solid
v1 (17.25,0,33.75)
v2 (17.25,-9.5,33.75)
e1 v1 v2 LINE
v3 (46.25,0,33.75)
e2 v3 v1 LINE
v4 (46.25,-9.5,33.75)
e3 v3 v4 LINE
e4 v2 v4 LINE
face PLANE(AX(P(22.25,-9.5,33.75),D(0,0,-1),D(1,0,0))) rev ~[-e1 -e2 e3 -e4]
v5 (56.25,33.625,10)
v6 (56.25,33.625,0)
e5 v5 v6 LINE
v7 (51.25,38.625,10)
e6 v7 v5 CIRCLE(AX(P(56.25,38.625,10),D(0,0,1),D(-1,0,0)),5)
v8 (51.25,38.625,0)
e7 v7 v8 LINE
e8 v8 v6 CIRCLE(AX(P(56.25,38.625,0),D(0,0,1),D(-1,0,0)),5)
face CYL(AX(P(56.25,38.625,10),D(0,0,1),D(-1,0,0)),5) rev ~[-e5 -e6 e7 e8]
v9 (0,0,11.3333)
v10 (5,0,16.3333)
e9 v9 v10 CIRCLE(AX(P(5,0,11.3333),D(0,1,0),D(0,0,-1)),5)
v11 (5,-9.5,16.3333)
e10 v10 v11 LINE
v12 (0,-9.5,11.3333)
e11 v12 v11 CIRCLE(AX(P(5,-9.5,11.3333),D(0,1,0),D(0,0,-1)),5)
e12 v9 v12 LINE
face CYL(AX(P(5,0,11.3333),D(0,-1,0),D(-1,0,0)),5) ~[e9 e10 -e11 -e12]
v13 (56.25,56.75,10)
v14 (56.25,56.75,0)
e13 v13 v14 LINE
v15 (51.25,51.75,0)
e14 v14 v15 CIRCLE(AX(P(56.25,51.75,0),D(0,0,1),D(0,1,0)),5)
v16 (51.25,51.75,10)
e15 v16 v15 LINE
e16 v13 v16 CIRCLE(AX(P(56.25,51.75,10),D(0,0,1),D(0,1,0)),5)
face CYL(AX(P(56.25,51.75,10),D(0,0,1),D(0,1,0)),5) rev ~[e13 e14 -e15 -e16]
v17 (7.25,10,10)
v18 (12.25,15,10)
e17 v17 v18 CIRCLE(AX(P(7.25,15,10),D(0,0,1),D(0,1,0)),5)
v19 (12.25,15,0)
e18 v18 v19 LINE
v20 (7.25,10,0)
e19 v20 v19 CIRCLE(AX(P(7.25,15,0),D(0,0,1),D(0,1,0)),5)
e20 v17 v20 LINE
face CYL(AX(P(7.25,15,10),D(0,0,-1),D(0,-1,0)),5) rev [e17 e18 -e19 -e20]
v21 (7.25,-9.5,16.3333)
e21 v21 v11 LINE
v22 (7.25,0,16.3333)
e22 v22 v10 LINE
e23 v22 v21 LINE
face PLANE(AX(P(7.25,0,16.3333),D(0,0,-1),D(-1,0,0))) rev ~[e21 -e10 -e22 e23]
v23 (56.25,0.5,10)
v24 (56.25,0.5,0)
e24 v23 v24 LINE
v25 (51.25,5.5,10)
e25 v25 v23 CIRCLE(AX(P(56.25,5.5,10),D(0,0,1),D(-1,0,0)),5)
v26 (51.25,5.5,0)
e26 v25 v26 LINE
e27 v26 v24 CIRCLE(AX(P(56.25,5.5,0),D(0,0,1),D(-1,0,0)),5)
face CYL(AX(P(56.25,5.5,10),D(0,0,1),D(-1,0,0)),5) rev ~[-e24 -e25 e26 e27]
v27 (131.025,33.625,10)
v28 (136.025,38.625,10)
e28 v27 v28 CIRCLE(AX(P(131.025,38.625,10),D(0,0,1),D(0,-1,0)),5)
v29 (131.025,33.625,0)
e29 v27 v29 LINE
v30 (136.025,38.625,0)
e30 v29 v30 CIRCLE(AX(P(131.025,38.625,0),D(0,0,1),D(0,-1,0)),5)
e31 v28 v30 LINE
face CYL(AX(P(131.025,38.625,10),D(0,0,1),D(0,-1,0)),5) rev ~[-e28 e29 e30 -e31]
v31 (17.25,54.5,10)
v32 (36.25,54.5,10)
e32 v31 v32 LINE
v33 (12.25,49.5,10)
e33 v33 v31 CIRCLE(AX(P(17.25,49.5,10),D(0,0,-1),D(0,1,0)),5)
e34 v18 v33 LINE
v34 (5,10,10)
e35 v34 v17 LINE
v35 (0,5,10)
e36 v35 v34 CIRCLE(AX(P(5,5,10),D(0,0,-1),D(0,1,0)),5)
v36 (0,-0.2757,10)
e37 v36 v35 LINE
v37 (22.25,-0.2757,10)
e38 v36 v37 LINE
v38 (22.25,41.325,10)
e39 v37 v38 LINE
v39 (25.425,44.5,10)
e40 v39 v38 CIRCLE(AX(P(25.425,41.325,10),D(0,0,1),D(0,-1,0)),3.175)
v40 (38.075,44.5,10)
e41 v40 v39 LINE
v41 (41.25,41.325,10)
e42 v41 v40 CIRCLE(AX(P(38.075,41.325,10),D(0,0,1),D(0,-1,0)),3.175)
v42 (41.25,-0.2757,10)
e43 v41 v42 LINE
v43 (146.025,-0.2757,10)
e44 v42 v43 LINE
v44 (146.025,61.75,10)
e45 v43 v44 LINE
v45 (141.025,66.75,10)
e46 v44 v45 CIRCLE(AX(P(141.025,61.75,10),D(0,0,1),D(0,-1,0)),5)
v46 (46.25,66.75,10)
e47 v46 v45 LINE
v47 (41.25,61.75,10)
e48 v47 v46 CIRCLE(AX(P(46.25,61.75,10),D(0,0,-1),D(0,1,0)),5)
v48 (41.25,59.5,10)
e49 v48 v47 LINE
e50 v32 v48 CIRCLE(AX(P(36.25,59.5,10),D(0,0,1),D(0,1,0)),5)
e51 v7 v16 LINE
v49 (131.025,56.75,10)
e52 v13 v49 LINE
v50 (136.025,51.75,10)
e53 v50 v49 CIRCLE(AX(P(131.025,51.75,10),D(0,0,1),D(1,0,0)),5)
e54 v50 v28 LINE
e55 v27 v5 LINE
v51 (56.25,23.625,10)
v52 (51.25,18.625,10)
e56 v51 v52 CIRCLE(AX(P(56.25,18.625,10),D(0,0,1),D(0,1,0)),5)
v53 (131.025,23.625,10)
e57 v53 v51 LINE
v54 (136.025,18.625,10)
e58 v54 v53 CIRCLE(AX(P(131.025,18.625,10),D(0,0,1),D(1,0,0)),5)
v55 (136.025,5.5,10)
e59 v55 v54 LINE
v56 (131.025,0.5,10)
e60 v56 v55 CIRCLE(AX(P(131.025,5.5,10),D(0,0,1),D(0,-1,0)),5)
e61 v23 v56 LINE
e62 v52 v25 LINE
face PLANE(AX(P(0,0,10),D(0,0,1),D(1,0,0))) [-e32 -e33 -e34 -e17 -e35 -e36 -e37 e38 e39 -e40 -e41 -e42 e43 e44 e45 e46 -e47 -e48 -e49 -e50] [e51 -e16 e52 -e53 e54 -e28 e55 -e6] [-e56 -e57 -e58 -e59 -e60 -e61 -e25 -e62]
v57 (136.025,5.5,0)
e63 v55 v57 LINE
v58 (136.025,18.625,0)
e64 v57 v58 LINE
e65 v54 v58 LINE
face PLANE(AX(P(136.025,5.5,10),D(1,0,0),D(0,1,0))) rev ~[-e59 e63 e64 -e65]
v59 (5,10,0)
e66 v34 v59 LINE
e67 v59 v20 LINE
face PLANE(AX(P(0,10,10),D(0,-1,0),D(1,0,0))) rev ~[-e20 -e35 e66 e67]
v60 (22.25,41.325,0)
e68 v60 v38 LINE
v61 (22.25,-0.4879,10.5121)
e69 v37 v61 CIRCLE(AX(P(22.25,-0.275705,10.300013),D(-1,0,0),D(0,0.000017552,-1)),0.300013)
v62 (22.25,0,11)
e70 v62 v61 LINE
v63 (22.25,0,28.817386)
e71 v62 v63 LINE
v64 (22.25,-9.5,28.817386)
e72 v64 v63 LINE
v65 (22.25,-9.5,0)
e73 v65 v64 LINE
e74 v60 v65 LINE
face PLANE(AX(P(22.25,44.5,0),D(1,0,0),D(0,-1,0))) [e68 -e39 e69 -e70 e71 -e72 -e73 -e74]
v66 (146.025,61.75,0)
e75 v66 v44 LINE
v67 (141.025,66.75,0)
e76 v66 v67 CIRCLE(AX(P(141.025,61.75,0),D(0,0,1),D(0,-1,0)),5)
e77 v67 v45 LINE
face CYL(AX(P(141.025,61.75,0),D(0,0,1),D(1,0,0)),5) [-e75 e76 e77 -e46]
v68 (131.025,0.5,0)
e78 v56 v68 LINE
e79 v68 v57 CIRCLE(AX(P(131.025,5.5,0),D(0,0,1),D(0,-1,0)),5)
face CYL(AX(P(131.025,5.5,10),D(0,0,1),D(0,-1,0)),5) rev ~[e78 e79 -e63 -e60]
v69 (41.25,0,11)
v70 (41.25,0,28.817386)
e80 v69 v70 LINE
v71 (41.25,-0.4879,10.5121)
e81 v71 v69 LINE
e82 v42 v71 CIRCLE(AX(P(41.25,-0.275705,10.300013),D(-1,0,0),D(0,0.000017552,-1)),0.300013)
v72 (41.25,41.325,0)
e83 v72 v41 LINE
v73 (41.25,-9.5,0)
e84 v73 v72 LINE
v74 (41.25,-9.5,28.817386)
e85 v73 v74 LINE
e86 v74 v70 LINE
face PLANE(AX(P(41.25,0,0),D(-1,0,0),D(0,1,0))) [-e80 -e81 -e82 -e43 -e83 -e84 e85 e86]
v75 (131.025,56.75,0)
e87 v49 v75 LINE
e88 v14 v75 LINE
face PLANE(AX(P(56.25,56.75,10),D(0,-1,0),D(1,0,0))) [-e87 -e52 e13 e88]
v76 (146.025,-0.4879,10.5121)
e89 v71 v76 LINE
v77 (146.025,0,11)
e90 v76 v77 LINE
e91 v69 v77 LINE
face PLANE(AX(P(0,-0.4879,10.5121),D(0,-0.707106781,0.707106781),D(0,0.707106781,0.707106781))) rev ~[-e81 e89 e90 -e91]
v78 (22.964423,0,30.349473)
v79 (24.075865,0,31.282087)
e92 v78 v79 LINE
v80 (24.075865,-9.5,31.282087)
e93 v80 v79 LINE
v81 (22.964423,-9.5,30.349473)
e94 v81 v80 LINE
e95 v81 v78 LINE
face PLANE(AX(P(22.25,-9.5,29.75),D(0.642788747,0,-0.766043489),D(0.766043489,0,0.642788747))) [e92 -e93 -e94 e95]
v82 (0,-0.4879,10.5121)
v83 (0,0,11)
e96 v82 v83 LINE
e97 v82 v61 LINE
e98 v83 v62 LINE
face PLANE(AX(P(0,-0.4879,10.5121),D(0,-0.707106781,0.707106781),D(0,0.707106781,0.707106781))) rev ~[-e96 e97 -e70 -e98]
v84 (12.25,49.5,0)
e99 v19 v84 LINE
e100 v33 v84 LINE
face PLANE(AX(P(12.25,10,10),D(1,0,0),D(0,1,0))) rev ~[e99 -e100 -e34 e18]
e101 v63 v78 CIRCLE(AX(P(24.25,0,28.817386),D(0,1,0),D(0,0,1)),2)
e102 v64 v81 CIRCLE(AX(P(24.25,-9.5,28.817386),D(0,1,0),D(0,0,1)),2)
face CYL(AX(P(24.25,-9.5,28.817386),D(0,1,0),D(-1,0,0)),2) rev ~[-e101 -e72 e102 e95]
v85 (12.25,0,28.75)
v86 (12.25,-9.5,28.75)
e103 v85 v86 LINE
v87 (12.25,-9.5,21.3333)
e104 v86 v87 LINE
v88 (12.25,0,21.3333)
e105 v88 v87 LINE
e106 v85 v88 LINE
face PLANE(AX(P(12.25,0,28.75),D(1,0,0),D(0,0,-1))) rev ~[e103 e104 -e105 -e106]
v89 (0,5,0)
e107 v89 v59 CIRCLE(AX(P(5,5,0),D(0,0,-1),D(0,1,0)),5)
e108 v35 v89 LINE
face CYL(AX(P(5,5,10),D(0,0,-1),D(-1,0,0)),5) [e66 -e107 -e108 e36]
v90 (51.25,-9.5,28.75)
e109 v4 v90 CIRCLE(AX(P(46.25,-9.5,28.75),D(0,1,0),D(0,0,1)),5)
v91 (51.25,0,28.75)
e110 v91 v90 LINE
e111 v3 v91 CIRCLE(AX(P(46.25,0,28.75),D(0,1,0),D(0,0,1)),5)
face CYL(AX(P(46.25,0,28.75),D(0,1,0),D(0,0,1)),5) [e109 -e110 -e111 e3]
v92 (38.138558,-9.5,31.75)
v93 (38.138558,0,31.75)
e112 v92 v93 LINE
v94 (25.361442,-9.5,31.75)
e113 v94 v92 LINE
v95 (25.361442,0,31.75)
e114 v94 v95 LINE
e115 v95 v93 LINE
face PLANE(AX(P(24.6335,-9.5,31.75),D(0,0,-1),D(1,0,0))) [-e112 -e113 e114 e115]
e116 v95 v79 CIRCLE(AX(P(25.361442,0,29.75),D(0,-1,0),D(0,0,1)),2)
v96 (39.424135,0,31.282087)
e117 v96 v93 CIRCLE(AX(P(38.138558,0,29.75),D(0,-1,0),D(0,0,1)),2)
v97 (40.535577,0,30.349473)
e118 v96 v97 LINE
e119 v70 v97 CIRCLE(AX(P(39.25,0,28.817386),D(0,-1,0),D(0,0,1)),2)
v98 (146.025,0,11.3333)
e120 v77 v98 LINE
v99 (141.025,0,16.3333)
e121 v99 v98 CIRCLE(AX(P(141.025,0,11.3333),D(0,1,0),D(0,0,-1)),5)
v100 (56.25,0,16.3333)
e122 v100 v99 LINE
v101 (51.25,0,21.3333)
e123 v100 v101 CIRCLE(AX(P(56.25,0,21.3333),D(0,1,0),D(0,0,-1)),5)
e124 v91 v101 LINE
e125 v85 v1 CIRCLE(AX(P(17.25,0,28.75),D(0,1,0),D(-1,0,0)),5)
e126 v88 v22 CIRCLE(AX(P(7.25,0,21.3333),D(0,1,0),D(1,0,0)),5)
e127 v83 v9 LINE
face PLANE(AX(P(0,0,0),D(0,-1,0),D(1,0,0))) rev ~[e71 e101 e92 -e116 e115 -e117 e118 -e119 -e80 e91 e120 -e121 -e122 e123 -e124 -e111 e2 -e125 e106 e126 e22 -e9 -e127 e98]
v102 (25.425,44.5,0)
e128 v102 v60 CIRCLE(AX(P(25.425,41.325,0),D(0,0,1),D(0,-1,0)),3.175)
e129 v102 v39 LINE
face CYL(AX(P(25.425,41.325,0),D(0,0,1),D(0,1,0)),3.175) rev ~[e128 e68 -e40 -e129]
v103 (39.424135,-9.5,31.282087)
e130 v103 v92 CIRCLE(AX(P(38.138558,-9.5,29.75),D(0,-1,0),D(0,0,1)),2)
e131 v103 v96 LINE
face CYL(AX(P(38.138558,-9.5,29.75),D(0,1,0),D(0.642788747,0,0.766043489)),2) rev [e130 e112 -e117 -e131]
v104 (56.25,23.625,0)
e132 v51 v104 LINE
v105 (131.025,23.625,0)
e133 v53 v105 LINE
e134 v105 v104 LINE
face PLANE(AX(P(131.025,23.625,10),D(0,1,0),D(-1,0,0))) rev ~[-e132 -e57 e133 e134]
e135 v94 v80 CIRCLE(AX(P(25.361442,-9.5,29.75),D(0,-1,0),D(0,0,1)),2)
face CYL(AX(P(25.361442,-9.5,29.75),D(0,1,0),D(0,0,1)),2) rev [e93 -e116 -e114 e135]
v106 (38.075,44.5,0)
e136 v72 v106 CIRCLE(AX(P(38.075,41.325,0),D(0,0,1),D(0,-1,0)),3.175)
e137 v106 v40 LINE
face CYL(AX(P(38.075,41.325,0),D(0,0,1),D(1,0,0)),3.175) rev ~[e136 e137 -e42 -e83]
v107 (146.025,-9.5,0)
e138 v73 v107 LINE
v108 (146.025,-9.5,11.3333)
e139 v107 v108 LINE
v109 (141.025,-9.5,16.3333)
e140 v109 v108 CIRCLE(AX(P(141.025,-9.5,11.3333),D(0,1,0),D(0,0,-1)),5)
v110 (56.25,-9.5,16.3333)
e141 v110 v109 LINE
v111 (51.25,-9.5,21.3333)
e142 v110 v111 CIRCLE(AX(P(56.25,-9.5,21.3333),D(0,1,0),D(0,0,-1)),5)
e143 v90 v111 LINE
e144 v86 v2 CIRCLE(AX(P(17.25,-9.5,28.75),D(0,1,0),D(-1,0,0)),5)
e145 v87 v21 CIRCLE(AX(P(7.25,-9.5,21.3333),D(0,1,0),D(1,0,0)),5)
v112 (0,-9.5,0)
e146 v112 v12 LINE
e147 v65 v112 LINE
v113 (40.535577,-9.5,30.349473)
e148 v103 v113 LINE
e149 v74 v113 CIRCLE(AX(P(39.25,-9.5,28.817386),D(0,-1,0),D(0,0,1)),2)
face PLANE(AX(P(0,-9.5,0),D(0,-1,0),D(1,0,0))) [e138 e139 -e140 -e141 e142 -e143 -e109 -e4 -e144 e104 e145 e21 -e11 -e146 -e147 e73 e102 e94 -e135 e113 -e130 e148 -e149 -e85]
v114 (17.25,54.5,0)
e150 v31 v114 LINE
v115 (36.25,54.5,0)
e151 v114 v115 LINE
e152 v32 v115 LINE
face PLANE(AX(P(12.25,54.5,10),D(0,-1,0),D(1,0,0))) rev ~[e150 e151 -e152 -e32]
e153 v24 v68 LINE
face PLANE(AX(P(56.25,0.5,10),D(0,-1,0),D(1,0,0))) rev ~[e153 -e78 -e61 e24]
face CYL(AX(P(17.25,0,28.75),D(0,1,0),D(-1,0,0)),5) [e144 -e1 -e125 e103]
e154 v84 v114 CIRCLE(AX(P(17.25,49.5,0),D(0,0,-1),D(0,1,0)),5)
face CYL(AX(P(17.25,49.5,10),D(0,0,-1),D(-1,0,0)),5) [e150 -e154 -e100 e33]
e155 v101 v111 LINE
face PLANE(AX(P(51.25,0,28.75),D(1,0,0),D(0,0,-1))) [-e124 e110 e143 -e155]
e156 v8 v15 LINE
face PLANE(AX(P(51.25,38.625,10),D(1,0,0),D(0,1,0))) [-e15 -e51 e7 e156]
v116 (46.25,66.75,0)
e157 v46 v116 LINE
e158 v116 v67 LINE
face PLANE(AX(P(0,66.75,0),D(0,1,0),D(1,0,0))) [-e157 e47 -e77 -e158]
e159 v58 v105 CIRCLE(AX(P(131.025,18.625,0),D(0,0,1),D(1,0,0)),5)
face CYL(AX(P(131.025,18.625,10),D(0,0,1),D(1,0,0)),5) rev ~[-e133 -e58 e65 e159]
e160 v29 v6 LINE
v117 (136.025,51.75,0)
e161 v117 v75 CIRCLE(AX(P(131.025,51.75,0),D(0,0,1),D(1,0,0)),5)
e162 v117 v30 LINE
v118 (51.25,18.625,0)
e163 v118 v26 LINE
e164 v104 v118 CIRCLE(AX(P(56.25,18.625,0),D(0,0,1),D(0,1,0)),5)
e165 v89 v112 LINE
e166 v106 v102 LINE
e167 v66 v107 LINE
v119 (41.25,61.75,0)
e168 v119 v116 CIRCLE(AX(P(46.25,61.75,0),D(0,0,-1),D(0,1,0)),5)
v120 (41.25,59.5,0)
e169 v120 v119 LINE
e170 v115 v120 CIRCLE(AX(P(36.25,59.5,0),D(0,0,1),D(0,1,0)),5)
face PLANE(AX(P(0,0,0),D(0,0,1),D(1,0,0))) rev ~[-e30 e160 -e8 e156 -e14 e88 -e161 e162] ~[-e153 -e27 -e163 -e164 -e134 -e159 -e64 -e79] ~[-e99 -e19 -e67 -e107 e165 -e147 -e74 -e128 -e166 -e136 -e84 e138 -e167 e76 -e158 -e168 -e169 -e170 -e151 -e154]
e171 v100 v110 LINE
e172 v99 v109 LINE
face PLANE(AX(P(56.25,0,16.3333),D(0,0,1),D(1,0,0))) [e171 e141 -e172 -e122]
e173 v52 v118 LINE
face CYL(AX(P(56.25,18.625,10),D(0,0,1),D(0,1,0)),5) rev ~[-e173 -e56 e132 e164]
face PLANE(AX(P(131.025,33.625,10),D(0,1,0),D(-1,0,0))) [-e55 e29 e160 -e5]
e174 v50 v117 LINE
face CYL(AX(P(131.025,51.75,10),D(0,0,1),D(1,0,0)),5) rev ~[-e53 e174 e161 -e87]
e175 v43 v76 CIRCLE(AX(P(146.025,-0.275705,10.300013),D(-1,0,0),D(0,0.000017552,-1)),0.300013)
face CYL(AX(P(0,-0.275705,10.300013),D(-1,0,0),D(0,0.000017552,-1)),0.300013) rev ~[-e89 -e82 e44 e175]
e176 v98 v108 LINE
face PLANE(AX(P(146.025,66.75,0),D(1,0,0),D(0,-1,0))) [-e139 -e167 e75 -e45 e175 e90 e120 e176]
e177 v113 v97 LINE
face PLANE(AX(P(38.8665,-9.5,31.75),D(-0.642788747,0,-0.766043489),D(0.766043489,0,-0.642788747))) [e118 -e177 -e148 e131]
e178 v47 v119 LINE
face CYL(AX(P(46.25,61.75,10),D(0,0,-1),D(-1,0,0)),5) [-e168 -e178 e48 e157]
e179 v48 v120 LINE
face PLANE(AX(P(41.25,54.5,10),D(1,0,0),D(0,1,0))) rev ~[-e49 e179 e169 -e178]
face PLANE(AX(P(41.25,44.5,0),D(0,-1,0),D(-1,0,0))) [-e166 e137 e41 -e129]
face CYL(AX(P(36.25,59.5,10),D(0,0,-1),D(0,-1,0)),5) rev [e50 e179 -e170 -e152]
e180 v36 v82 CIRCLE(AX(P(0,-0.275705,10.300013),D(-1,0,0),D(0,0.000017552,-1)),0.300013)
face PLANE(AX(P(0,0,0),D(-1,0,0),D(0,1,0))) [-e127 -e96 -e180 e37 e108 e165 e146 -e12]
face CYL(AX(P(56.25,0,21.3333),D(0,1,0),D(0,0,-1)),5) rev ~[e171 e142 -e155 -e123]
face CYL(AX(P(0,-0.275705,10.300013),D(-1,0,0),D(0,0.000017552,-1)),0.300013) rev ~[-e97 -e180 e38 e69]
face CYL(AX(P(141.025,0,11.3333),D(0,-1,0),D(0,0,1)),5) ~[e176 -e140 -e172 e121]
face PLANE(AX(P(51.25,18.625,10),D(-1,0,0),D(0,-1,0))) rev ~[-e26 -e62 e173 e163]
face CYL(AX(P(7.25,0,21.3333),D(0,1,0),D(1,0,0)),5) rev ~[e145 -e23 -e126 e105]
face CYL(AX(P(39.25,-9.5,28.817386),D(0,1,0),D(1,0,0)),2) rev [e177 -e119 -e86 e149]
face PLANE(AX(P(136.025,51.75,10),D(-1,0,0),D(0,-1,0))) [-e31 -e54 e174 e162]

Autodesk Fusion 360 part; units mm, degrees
sketch "Sketch2" plane through (0, 0, 0) normal (0, 0, 1) x (1, 0, 0) in component "jig"
  line L0 (0, 0) -> (0, 66.75)
  line L1 (0, 66.75) -> (146.025, 66.75)
  line L2 (146.025, 66.75) -> (146.025, 0)
  line L3 (146.025, 0) -> (0, 0)
  line L4 (22.25, 0) -> (41.25, 0)
  line L5 (41.25, 0) -> (41.25, 44.5)
  line L6 (41.25, 44.5) -> (22.25, 44.5)
  line L7 (22.25, 44.5) -> (22.25, 0)
  line L8 (0, 0) -> (22.25, 0)
  line L9 (22.25, 0) -> (22.25, -9.5)
  line L10 (22.25, -9.5) -> (0, -9.5)
  line L11 (0, -9.5) -> (0, 0)
  line L12 (146.025, 0) -> (41.25, 0)
  line L13 (41.25, 0) -> (41.25, -9.5)
  line L14 (41.25, -9.5) -> (146.025, -9.5)
  line L15 (146.025, -9.5) -> (146.025, 0)
  line L16 (22.25, 44.5) -> (0, 44.5) construction
  line L17 (41.25, 44.5) -> (146.025, 44.5) construction
  dimension "d27" = 104.775
  dimension "d29" = 9.5
  dimension "d58" = 19
  dimension "d59" = 22.25
  dimension "d60" = 44.5
  dimension "d64" = 22.25
extrude "Extrude1" add sketch "Sketch2" along normal blind 10 contours L0 L1 L2 L3 L5 L6 L7 L8 L12 in component "jig"
extrude "Extrude2" add sketch "Sketch2" along normal blind 33.75 contours L3 L8 L9 L10 L11 | L3 L12 L13 L14 L15 in component "jig"
sketch "Sketch3" plane through (0, 0, 0) normal (-1, 0, 0) x (0, -1, 0) in component "jig"
  line L0 (-66.75, 0) -> (9.5, 0)
  line L1 (9.5, 0) -> (9.5, 33.75)
  line L2 (9.5, 33.75) -> (0, 33.75)
  line L3 (-160, 13) -> (-160.4879, 12.5121)
  line L4 (-160.2757, 12) -> (-160, 12)
  line L5 (-160, 13) -> (-160, 12)
  arc A0 (-160.4879, 12.5121) -> (-160.2757, 12) centre (-160.2757, 12.3) ccw
  line L6 (0, 10) -> (0.2757, 10)
  line L7 (0.4879, 10.5121) -> (0, 11)
  line L8 (0, 10) -> (0, 11)
  arc A1 (0.2757, 10) -> (0.4879, 10.5121) centre (0.2757, 10.3) ccw
  line L9 (-66.75, 10) -> (-66.75, 0)
  line L10 (0, 33.75) -> (0, 10)
  line L11 (0, 10) -> (-66.75, 10)
  dimension "d34" = 1
  dimension "d35" = 0.3
  dimension "d36" = 45
  dimension "d37" = 1
  dimension "d38" = 45
  dimension "d39" = 0.3
extrude "Extrude3" cut sketch "Sketch3" against normal up to surface (146.025 mm away) contours L6 L7 L8 A1 L10 | L3 L4 L5 A0 in component "jig"
fillet "Fillet2" radius 3.175 2 edges at (22.25, 44.5, 5) (41.25, 44.5, 5) in component "jig"
sketch "Sketch2 (2)" plane through (0, -9.5, 0) normal (0, -1, 0) x (1, 0, 0) in component "jig"
  line L0 (0, 0) -> (22.25, 0)
  line L1 (22.25, 0) -> (22.25, 33.75)
  line L2 (22.25, 33.75) -> (0, 33.75)
  line L3 (0, 33.75) -> (0, 0)
  line L4 (22.25, 33.75) -> (41.25, 33.75)
  line L5 (41.25, 0) -> (41.25, 33.75)
  line L6 (41.25, 33.75) -> (41.25, 29.75)
  line L7 (22.25, 33.75) -> (22.25, 29.75)
  line L8 (22.25, 29.75) -> (24.6335, 31.75)
  line L9 (24.6335, 31.75) -> (38.8665, 31.75)
  line L10 (38.8665, 31.75) -> (41.25, 29.75)
  line L11 (22.25, 29.75) -> (41.25, 29.75) construction
  point P0 (41.25, 33.75)
  dimension "d65" = 50
  dimension "d66" = 50
  dimension "d67" = 4
  dimension "d68" = 2
extrude "Extrude5" add sketch "Sketch2 (2)" against normal up to surface (9.5 mm away) contours L1 L4 L5 L6 L7 L8 L9 L10 in component "jig"
sketch "Sketch3 (2)" plane through (0, 0, 10) normal (0, 0, 1) x (-1, 0, 0) in component "jig"
  line L0 (-25.425, -44.5) -> (-38.075, -44.5)
  arc A0 (-41.25, -41.325) -> (-38.075, -44.5) centre (-38.075, -41.325) ccw
  line L1 (-41.25, -41.325) -> (-41.25, 0.2757)
  line L2 (-41.25, 0.2757) -> (-146.025, 0.2757)
  line L3 (-146.025, 0.2757) -> (-146.025, -66.75)
  line L4 (-146.025, -66.75) -> (0, -66.75)
  line L5 (0, -66.75) -> (0, 0.2757)
  line L6 (0, 0.2757) -> (-22.25, 0.2757)
  line L7 (-22.25, 0.2757) -> (-22.25, -41.325)
  arc A1 (-25.425, -44.5) -> (-22.25, -41.325) centre (-25.425, -41.325) ccw
  line L8 (-56.25, -56.75) -> (-131.025, -56.75)
  line L9 (-136.025, -51.75) -> (-136.025, -38.625)
  line L10 (-131.025, -33.625) -> (-56.25, -33.625)
  line L11 (-51.25, -38.625) -> (-51.25, -51.75)
  line L12 (-146.025, 0) -> (0, 0)
  arc A2 (-56.25, -56.75) -> (-51.25, -51.75) centre (-56.25, -51.75) ccw
  arc A3 (-136.025, -51.75) -> (-131.025, -56.75) centre (-131.025, -51.75) ccw
  arc A4 (-131.025, -33.625) -> (-136.025, -38.625) centre (-131.025, -38.625) ccw
  arc A5 (-51.25, -38.625) -> (-56.25, -33.625) centre (-56.25, -38.625) ccw
  line L13 (-56.25, -0.5) -> (-131.025, -0.5)
  line L14 (-136.025, -5.5) -> (-136.025, -18.625)
  line L15 (-131.025, -23.625) -> (-56.25, -23.625)
  line L16 (-51.25, -18.625) -> (-51.25, -5.5)
  line L17 (0, 9.5) -> (-146.025, 9.5)
  line L18 (-93.6375, -56.75) -> (-93.6375, -33.625) construction
  line L19 (-93.6375, -23.625) -> (-93.6375, -0.5) construction
  arc A6 (-56.25, -23.625) -> (-51.25, -18.625) centre (-56.25, -18.625) ccw
  arc A7 (-51.25, -5.5) -> (-56.25, -0.5) centre (-56.25, -5.5) ccw
  arc A8 (-131.025, -0.5) -> (-136.025, -5.5) centre (-131.025, -5.5) ccw
  arc A9 (-136.025, -18.625) -> (-131.025, -23.625) centre (-131.025, -18.625) ccw
  dimension "d71" = 10
  dimension "d72" = 10
  dimension "d74" = 10
  dimension "d75" = 5
  dimension "d89" = 10
  dimension "d90" = 10
  dimension "d91" = 5
extrude "Extrude6" cut sketch "Sketch3 (2)" against normal up to surface (10 mm away) contours L8 L9 L10 L11 A2 A3 A4 A5 | L13 L14 L15 L16 A6 A7 A8 A9 in component "jig"
sketch "Sketch10" plane through (0, 0, 0) normal (0, 1, 0) x (-1, 0, 0) in component "jig"
  line L0 (-146.025, 11) -> (-41.25, 11)
  line L1 (-41.25, 11) -> (-41.25, 29.75)
  line L2 (-41.25, 29.75) -> (-38.8665, 31.75)
  line L3 (-38.8665, 31.75) -> (-24.6335, 31.75)
  line L4 (-24.6335, 31.75) -> (-22.25, 29.75)
  line L5 (-22.25, 29.75) -> (-22.25, 11)
  line L6 (-22.25, 11) -> (0, 11)
  line L7 (0, 11) -> (0, 33.75)
  line L8 (0, 33.75) -> (-146.025, 33.75)
  line L9 (-146.025, 33.75) -> (-146.025, 11)
  line L10 (-146.025, 49.75) -> (-53.25, 49.75)
  line L11 (-51.25, 28.75) -> (-51.25, 21.3333)
  line L12 (-56.25, 16.3333) -> (-146.025, 16.3333)
  line L13 (-146.025, 16.3333) -> (-146.025, 49.75)
  line L14 (-146.025, 10) -> (0, 10)
  line L15 (0, 49.75) -> (-10.25, 49.75)
  line L16 (-12.25, 28.75) -> (-12.25, 21.3333)
  line L17 (-7.25, 16.3333) -> (0, 16.3333)
  line L18 (0, 16.3333) -> (0, 49.75)
  line L19 (-53.25, 49.75) -> (-10.25, 49.75)
  line L20 (-17.25, 33.75) -> (-46.25, 33.75)
  arc A0 (-56.25, 16.3333) -> (-51.25, 21.3333) centre (-56.25, 21.3333) ccw
  arc A1 (-46.25, 33.75) -> (-51.25, 28.75) centre (-46.25, 28.75) ccw
  arc A2 (-12.25, 28.75) -> (-17.25, 33.75) centre (-17.25, 28.75) ccw
  arc A3 (-12.25, 21.3333) -> (-7.25, 16.3333) centre (-7.25, 21.3333) ccw
  dimension "d81" = 10
  dimension "d82" = 6.3333
  dimension "d83" = 6.3333
  dimension "d84" = 10
  dimension "d85" = 16
  dimension "d86" = 5
extrude "Extrude7" cut sketch "Sketch10" against normal up to surface (9.5 mm away) contours L8 L9 L11 L12 L13 A0 A1 | L7 L8 L16 L17 L18 A2 A3 in component "jig"
fillet "Fillet3" radius 5 4 edges at (0, -4.75, 16.3333) (0, 66.75, 5) (146.025, -4.75, 16.3333) (146.025, 66.75, 5) in component "jig"
sketch "Sketch11" plane through (0, 0, 10) normal (0, 0, 1) x (-1, 0, 0) in component "jig"
  arc A0 (-146.025, -61.75) -> (-141.025, -66.75) centre (-141.025, -61.75) ccw
  line L0 (-141.025, -66.75) -> (-5, -66.75)
  arc A1 (-5, -66.75) -> (0, -61.75) centre (-5, -61.75) ccw
  line L1 (0, -61.75) -> (0, 0.2757)
  line L2 (0, 0.2757) -> (-22.25, 0.2757)
  line L3 (-22.25, 0.2757) -> (-22.25, -41.325)
  arc A2 (-25.425, -44.5) -> (-22.25, -41.325) centre (-25.425, -41.325) ccw
  line L4 (-25.425, -44.5) -> (-38.075, -44.5)
  arc A3 (-41.25, -41.325) -> (-38.075, -44.5) centre (-38.075, -41.325) ccw
  line L5 (-41.25, -41.325) -> (-41.25, 0.2757)
  line L6 (-41.25, 0.2757) -> (-146.025, 0.2757)
  line L7 (-146.025, 0.2757) -> (-146.025, -61.75)
  line L8 (-136.025, -51.75) -> (-136.025, -38.625)
  arc A4 (-131.025, -33.625) -> (-136.025, -38.625) centre (-131.025, -38.625) ccw
  line L9 (-131.025, -33.625) -> (-56.25, -33.625)
  arc A5 (-51.25, -38.625) -> (-56.25, -33.625) centre (-56.25, -38.625) ccw
  line L10 (-51.25, -38.625) -> (-51.25, -51.75)
  arc A6 (-56.25, -56.75) -> (-51.25, -51.75) centre (-56.25, -51.75) ccw
  line L11 (-56.25, -56.75) -> (-131.025, -56.75)
  arc A7 (-136.025, -51.75) -> (-131.025, -56.75) centre (-131.025, -51.75) ccw
  line L12 (-131.025, -0.5) -> (-56.25, -0.5)
  arc A8 (-51.25, -5.5) -> (-56.25, -0.5) centre (-56.25, -5.5) ccw
  line L13 (-51.25, -5.5) -> (-51.25, -18.625)
  arc A9 (-56.25, -23.625) -> (-51.25, -18.625) centre (-56.25, -18.625) ccw
  line L14 (-56.25, -23.625) -> (-131.025, -23.625)
  arc A10 (-136.025, -18.625) -> (-131.025, -23.625) centre (-131.025, -18.625) ccw
  line L15 (-136.025, -18.625) -> (-136.025, -5.5)
  arc A11 (-131.025, -0.5) -> (-136.025, -5.5) centre (-131.025, -5.5) ccw
  line L16 (0, -10) -> (-12.25, -10)
  line L17 (-12.25, -10) -> (-12.25, -54.5)
  line L18 (-12.25, -54.5) -> (-41.25, -54.5)
  line L19 (-41.25, -54.5) -> (-41.25, -66.75)
  line L20 (0, -10) -> (0, -66.75)
  line L21 (0, -66.75) -> (-41.25, -66.75)
  line L22 (-46.25, 0) -> (-17.25, 0)
  dimension "d94" = 10
  dimension "d95" = 10
  dimension "d96" = 10
extrude "Extrude8" cut sketch "Sketch11" against normal up to surface (10 mm away) contours L0 A1 L1 L16 L17 L18 L19 L20 L21 in component "jig"
fillet "Fillet4" radius 5 5 edges at (41.25, 66.75, 5) (41.25, 54.5, 5) (12.25, 54.5, 5) (12.25, 10, 5) (0, 10, 5) in component "jig"
fillet "Fillet5" radius 2 4 edges at (22.25, -4.75, 29.75) (24.6335, -4.75, 31.75) (38.8665, -4.75, 31.75) (41.25, -4.75, 29.75) in component "jig"
component "jig" placed x (1, 0, 0) y (0, 1, 0) z (0, 0, 1) at (0, 0, 0)
equation "stockW = 200 mm"
equation "stockH = 89 mm"
equation "stockT = 19 mm"
equation "lipT = stockT / 2"
equation "lipH = lipT * 2 / 3"
equation "jigT = 10 mm"
equation "stock2H = 160 mm"
equation "baseMargin = 3.125 in + 1\""
equation "d27 = baseMargin"
equation "d29 = lipT"
equation "d30 = jigT"
equation "d32 = jigT + stockT * 1.25"
equation "d58 = stockT"
equation "d59 = d60 / 2"
equation "d60 = stockH / 2"
equation "jigR = 0.125 in"
equation "d63 = jigR"
equation "d64 = d59"
equation "d66 = d65"
equation "d71 = cutoutOffset"
equation "d72 = d71"
equation "d74 = d71"
equation "d75 = cutoutRadius"
equation "cutoutOffset = 10 mm"
equation "cutoutRadius = 5 mm"
equation "d81 = cutoutOffset"
equation "d82 = lipH"
equation "d83 = lipH"
equation "d84 = cutoutOffset"
equation "d86 = cutoutRadius"
equation "d89 = cutoutOffset"
equation "d90 = cutoutOffset"
equation "d91 = d75"
equation "d93 = cutoutRadius"
equation "d94 = cutoutOffset"
equation "d95 = cutoutOffset"
equation "d96 = cutoutOffset"
equation "d100 = cutoutRadius"
